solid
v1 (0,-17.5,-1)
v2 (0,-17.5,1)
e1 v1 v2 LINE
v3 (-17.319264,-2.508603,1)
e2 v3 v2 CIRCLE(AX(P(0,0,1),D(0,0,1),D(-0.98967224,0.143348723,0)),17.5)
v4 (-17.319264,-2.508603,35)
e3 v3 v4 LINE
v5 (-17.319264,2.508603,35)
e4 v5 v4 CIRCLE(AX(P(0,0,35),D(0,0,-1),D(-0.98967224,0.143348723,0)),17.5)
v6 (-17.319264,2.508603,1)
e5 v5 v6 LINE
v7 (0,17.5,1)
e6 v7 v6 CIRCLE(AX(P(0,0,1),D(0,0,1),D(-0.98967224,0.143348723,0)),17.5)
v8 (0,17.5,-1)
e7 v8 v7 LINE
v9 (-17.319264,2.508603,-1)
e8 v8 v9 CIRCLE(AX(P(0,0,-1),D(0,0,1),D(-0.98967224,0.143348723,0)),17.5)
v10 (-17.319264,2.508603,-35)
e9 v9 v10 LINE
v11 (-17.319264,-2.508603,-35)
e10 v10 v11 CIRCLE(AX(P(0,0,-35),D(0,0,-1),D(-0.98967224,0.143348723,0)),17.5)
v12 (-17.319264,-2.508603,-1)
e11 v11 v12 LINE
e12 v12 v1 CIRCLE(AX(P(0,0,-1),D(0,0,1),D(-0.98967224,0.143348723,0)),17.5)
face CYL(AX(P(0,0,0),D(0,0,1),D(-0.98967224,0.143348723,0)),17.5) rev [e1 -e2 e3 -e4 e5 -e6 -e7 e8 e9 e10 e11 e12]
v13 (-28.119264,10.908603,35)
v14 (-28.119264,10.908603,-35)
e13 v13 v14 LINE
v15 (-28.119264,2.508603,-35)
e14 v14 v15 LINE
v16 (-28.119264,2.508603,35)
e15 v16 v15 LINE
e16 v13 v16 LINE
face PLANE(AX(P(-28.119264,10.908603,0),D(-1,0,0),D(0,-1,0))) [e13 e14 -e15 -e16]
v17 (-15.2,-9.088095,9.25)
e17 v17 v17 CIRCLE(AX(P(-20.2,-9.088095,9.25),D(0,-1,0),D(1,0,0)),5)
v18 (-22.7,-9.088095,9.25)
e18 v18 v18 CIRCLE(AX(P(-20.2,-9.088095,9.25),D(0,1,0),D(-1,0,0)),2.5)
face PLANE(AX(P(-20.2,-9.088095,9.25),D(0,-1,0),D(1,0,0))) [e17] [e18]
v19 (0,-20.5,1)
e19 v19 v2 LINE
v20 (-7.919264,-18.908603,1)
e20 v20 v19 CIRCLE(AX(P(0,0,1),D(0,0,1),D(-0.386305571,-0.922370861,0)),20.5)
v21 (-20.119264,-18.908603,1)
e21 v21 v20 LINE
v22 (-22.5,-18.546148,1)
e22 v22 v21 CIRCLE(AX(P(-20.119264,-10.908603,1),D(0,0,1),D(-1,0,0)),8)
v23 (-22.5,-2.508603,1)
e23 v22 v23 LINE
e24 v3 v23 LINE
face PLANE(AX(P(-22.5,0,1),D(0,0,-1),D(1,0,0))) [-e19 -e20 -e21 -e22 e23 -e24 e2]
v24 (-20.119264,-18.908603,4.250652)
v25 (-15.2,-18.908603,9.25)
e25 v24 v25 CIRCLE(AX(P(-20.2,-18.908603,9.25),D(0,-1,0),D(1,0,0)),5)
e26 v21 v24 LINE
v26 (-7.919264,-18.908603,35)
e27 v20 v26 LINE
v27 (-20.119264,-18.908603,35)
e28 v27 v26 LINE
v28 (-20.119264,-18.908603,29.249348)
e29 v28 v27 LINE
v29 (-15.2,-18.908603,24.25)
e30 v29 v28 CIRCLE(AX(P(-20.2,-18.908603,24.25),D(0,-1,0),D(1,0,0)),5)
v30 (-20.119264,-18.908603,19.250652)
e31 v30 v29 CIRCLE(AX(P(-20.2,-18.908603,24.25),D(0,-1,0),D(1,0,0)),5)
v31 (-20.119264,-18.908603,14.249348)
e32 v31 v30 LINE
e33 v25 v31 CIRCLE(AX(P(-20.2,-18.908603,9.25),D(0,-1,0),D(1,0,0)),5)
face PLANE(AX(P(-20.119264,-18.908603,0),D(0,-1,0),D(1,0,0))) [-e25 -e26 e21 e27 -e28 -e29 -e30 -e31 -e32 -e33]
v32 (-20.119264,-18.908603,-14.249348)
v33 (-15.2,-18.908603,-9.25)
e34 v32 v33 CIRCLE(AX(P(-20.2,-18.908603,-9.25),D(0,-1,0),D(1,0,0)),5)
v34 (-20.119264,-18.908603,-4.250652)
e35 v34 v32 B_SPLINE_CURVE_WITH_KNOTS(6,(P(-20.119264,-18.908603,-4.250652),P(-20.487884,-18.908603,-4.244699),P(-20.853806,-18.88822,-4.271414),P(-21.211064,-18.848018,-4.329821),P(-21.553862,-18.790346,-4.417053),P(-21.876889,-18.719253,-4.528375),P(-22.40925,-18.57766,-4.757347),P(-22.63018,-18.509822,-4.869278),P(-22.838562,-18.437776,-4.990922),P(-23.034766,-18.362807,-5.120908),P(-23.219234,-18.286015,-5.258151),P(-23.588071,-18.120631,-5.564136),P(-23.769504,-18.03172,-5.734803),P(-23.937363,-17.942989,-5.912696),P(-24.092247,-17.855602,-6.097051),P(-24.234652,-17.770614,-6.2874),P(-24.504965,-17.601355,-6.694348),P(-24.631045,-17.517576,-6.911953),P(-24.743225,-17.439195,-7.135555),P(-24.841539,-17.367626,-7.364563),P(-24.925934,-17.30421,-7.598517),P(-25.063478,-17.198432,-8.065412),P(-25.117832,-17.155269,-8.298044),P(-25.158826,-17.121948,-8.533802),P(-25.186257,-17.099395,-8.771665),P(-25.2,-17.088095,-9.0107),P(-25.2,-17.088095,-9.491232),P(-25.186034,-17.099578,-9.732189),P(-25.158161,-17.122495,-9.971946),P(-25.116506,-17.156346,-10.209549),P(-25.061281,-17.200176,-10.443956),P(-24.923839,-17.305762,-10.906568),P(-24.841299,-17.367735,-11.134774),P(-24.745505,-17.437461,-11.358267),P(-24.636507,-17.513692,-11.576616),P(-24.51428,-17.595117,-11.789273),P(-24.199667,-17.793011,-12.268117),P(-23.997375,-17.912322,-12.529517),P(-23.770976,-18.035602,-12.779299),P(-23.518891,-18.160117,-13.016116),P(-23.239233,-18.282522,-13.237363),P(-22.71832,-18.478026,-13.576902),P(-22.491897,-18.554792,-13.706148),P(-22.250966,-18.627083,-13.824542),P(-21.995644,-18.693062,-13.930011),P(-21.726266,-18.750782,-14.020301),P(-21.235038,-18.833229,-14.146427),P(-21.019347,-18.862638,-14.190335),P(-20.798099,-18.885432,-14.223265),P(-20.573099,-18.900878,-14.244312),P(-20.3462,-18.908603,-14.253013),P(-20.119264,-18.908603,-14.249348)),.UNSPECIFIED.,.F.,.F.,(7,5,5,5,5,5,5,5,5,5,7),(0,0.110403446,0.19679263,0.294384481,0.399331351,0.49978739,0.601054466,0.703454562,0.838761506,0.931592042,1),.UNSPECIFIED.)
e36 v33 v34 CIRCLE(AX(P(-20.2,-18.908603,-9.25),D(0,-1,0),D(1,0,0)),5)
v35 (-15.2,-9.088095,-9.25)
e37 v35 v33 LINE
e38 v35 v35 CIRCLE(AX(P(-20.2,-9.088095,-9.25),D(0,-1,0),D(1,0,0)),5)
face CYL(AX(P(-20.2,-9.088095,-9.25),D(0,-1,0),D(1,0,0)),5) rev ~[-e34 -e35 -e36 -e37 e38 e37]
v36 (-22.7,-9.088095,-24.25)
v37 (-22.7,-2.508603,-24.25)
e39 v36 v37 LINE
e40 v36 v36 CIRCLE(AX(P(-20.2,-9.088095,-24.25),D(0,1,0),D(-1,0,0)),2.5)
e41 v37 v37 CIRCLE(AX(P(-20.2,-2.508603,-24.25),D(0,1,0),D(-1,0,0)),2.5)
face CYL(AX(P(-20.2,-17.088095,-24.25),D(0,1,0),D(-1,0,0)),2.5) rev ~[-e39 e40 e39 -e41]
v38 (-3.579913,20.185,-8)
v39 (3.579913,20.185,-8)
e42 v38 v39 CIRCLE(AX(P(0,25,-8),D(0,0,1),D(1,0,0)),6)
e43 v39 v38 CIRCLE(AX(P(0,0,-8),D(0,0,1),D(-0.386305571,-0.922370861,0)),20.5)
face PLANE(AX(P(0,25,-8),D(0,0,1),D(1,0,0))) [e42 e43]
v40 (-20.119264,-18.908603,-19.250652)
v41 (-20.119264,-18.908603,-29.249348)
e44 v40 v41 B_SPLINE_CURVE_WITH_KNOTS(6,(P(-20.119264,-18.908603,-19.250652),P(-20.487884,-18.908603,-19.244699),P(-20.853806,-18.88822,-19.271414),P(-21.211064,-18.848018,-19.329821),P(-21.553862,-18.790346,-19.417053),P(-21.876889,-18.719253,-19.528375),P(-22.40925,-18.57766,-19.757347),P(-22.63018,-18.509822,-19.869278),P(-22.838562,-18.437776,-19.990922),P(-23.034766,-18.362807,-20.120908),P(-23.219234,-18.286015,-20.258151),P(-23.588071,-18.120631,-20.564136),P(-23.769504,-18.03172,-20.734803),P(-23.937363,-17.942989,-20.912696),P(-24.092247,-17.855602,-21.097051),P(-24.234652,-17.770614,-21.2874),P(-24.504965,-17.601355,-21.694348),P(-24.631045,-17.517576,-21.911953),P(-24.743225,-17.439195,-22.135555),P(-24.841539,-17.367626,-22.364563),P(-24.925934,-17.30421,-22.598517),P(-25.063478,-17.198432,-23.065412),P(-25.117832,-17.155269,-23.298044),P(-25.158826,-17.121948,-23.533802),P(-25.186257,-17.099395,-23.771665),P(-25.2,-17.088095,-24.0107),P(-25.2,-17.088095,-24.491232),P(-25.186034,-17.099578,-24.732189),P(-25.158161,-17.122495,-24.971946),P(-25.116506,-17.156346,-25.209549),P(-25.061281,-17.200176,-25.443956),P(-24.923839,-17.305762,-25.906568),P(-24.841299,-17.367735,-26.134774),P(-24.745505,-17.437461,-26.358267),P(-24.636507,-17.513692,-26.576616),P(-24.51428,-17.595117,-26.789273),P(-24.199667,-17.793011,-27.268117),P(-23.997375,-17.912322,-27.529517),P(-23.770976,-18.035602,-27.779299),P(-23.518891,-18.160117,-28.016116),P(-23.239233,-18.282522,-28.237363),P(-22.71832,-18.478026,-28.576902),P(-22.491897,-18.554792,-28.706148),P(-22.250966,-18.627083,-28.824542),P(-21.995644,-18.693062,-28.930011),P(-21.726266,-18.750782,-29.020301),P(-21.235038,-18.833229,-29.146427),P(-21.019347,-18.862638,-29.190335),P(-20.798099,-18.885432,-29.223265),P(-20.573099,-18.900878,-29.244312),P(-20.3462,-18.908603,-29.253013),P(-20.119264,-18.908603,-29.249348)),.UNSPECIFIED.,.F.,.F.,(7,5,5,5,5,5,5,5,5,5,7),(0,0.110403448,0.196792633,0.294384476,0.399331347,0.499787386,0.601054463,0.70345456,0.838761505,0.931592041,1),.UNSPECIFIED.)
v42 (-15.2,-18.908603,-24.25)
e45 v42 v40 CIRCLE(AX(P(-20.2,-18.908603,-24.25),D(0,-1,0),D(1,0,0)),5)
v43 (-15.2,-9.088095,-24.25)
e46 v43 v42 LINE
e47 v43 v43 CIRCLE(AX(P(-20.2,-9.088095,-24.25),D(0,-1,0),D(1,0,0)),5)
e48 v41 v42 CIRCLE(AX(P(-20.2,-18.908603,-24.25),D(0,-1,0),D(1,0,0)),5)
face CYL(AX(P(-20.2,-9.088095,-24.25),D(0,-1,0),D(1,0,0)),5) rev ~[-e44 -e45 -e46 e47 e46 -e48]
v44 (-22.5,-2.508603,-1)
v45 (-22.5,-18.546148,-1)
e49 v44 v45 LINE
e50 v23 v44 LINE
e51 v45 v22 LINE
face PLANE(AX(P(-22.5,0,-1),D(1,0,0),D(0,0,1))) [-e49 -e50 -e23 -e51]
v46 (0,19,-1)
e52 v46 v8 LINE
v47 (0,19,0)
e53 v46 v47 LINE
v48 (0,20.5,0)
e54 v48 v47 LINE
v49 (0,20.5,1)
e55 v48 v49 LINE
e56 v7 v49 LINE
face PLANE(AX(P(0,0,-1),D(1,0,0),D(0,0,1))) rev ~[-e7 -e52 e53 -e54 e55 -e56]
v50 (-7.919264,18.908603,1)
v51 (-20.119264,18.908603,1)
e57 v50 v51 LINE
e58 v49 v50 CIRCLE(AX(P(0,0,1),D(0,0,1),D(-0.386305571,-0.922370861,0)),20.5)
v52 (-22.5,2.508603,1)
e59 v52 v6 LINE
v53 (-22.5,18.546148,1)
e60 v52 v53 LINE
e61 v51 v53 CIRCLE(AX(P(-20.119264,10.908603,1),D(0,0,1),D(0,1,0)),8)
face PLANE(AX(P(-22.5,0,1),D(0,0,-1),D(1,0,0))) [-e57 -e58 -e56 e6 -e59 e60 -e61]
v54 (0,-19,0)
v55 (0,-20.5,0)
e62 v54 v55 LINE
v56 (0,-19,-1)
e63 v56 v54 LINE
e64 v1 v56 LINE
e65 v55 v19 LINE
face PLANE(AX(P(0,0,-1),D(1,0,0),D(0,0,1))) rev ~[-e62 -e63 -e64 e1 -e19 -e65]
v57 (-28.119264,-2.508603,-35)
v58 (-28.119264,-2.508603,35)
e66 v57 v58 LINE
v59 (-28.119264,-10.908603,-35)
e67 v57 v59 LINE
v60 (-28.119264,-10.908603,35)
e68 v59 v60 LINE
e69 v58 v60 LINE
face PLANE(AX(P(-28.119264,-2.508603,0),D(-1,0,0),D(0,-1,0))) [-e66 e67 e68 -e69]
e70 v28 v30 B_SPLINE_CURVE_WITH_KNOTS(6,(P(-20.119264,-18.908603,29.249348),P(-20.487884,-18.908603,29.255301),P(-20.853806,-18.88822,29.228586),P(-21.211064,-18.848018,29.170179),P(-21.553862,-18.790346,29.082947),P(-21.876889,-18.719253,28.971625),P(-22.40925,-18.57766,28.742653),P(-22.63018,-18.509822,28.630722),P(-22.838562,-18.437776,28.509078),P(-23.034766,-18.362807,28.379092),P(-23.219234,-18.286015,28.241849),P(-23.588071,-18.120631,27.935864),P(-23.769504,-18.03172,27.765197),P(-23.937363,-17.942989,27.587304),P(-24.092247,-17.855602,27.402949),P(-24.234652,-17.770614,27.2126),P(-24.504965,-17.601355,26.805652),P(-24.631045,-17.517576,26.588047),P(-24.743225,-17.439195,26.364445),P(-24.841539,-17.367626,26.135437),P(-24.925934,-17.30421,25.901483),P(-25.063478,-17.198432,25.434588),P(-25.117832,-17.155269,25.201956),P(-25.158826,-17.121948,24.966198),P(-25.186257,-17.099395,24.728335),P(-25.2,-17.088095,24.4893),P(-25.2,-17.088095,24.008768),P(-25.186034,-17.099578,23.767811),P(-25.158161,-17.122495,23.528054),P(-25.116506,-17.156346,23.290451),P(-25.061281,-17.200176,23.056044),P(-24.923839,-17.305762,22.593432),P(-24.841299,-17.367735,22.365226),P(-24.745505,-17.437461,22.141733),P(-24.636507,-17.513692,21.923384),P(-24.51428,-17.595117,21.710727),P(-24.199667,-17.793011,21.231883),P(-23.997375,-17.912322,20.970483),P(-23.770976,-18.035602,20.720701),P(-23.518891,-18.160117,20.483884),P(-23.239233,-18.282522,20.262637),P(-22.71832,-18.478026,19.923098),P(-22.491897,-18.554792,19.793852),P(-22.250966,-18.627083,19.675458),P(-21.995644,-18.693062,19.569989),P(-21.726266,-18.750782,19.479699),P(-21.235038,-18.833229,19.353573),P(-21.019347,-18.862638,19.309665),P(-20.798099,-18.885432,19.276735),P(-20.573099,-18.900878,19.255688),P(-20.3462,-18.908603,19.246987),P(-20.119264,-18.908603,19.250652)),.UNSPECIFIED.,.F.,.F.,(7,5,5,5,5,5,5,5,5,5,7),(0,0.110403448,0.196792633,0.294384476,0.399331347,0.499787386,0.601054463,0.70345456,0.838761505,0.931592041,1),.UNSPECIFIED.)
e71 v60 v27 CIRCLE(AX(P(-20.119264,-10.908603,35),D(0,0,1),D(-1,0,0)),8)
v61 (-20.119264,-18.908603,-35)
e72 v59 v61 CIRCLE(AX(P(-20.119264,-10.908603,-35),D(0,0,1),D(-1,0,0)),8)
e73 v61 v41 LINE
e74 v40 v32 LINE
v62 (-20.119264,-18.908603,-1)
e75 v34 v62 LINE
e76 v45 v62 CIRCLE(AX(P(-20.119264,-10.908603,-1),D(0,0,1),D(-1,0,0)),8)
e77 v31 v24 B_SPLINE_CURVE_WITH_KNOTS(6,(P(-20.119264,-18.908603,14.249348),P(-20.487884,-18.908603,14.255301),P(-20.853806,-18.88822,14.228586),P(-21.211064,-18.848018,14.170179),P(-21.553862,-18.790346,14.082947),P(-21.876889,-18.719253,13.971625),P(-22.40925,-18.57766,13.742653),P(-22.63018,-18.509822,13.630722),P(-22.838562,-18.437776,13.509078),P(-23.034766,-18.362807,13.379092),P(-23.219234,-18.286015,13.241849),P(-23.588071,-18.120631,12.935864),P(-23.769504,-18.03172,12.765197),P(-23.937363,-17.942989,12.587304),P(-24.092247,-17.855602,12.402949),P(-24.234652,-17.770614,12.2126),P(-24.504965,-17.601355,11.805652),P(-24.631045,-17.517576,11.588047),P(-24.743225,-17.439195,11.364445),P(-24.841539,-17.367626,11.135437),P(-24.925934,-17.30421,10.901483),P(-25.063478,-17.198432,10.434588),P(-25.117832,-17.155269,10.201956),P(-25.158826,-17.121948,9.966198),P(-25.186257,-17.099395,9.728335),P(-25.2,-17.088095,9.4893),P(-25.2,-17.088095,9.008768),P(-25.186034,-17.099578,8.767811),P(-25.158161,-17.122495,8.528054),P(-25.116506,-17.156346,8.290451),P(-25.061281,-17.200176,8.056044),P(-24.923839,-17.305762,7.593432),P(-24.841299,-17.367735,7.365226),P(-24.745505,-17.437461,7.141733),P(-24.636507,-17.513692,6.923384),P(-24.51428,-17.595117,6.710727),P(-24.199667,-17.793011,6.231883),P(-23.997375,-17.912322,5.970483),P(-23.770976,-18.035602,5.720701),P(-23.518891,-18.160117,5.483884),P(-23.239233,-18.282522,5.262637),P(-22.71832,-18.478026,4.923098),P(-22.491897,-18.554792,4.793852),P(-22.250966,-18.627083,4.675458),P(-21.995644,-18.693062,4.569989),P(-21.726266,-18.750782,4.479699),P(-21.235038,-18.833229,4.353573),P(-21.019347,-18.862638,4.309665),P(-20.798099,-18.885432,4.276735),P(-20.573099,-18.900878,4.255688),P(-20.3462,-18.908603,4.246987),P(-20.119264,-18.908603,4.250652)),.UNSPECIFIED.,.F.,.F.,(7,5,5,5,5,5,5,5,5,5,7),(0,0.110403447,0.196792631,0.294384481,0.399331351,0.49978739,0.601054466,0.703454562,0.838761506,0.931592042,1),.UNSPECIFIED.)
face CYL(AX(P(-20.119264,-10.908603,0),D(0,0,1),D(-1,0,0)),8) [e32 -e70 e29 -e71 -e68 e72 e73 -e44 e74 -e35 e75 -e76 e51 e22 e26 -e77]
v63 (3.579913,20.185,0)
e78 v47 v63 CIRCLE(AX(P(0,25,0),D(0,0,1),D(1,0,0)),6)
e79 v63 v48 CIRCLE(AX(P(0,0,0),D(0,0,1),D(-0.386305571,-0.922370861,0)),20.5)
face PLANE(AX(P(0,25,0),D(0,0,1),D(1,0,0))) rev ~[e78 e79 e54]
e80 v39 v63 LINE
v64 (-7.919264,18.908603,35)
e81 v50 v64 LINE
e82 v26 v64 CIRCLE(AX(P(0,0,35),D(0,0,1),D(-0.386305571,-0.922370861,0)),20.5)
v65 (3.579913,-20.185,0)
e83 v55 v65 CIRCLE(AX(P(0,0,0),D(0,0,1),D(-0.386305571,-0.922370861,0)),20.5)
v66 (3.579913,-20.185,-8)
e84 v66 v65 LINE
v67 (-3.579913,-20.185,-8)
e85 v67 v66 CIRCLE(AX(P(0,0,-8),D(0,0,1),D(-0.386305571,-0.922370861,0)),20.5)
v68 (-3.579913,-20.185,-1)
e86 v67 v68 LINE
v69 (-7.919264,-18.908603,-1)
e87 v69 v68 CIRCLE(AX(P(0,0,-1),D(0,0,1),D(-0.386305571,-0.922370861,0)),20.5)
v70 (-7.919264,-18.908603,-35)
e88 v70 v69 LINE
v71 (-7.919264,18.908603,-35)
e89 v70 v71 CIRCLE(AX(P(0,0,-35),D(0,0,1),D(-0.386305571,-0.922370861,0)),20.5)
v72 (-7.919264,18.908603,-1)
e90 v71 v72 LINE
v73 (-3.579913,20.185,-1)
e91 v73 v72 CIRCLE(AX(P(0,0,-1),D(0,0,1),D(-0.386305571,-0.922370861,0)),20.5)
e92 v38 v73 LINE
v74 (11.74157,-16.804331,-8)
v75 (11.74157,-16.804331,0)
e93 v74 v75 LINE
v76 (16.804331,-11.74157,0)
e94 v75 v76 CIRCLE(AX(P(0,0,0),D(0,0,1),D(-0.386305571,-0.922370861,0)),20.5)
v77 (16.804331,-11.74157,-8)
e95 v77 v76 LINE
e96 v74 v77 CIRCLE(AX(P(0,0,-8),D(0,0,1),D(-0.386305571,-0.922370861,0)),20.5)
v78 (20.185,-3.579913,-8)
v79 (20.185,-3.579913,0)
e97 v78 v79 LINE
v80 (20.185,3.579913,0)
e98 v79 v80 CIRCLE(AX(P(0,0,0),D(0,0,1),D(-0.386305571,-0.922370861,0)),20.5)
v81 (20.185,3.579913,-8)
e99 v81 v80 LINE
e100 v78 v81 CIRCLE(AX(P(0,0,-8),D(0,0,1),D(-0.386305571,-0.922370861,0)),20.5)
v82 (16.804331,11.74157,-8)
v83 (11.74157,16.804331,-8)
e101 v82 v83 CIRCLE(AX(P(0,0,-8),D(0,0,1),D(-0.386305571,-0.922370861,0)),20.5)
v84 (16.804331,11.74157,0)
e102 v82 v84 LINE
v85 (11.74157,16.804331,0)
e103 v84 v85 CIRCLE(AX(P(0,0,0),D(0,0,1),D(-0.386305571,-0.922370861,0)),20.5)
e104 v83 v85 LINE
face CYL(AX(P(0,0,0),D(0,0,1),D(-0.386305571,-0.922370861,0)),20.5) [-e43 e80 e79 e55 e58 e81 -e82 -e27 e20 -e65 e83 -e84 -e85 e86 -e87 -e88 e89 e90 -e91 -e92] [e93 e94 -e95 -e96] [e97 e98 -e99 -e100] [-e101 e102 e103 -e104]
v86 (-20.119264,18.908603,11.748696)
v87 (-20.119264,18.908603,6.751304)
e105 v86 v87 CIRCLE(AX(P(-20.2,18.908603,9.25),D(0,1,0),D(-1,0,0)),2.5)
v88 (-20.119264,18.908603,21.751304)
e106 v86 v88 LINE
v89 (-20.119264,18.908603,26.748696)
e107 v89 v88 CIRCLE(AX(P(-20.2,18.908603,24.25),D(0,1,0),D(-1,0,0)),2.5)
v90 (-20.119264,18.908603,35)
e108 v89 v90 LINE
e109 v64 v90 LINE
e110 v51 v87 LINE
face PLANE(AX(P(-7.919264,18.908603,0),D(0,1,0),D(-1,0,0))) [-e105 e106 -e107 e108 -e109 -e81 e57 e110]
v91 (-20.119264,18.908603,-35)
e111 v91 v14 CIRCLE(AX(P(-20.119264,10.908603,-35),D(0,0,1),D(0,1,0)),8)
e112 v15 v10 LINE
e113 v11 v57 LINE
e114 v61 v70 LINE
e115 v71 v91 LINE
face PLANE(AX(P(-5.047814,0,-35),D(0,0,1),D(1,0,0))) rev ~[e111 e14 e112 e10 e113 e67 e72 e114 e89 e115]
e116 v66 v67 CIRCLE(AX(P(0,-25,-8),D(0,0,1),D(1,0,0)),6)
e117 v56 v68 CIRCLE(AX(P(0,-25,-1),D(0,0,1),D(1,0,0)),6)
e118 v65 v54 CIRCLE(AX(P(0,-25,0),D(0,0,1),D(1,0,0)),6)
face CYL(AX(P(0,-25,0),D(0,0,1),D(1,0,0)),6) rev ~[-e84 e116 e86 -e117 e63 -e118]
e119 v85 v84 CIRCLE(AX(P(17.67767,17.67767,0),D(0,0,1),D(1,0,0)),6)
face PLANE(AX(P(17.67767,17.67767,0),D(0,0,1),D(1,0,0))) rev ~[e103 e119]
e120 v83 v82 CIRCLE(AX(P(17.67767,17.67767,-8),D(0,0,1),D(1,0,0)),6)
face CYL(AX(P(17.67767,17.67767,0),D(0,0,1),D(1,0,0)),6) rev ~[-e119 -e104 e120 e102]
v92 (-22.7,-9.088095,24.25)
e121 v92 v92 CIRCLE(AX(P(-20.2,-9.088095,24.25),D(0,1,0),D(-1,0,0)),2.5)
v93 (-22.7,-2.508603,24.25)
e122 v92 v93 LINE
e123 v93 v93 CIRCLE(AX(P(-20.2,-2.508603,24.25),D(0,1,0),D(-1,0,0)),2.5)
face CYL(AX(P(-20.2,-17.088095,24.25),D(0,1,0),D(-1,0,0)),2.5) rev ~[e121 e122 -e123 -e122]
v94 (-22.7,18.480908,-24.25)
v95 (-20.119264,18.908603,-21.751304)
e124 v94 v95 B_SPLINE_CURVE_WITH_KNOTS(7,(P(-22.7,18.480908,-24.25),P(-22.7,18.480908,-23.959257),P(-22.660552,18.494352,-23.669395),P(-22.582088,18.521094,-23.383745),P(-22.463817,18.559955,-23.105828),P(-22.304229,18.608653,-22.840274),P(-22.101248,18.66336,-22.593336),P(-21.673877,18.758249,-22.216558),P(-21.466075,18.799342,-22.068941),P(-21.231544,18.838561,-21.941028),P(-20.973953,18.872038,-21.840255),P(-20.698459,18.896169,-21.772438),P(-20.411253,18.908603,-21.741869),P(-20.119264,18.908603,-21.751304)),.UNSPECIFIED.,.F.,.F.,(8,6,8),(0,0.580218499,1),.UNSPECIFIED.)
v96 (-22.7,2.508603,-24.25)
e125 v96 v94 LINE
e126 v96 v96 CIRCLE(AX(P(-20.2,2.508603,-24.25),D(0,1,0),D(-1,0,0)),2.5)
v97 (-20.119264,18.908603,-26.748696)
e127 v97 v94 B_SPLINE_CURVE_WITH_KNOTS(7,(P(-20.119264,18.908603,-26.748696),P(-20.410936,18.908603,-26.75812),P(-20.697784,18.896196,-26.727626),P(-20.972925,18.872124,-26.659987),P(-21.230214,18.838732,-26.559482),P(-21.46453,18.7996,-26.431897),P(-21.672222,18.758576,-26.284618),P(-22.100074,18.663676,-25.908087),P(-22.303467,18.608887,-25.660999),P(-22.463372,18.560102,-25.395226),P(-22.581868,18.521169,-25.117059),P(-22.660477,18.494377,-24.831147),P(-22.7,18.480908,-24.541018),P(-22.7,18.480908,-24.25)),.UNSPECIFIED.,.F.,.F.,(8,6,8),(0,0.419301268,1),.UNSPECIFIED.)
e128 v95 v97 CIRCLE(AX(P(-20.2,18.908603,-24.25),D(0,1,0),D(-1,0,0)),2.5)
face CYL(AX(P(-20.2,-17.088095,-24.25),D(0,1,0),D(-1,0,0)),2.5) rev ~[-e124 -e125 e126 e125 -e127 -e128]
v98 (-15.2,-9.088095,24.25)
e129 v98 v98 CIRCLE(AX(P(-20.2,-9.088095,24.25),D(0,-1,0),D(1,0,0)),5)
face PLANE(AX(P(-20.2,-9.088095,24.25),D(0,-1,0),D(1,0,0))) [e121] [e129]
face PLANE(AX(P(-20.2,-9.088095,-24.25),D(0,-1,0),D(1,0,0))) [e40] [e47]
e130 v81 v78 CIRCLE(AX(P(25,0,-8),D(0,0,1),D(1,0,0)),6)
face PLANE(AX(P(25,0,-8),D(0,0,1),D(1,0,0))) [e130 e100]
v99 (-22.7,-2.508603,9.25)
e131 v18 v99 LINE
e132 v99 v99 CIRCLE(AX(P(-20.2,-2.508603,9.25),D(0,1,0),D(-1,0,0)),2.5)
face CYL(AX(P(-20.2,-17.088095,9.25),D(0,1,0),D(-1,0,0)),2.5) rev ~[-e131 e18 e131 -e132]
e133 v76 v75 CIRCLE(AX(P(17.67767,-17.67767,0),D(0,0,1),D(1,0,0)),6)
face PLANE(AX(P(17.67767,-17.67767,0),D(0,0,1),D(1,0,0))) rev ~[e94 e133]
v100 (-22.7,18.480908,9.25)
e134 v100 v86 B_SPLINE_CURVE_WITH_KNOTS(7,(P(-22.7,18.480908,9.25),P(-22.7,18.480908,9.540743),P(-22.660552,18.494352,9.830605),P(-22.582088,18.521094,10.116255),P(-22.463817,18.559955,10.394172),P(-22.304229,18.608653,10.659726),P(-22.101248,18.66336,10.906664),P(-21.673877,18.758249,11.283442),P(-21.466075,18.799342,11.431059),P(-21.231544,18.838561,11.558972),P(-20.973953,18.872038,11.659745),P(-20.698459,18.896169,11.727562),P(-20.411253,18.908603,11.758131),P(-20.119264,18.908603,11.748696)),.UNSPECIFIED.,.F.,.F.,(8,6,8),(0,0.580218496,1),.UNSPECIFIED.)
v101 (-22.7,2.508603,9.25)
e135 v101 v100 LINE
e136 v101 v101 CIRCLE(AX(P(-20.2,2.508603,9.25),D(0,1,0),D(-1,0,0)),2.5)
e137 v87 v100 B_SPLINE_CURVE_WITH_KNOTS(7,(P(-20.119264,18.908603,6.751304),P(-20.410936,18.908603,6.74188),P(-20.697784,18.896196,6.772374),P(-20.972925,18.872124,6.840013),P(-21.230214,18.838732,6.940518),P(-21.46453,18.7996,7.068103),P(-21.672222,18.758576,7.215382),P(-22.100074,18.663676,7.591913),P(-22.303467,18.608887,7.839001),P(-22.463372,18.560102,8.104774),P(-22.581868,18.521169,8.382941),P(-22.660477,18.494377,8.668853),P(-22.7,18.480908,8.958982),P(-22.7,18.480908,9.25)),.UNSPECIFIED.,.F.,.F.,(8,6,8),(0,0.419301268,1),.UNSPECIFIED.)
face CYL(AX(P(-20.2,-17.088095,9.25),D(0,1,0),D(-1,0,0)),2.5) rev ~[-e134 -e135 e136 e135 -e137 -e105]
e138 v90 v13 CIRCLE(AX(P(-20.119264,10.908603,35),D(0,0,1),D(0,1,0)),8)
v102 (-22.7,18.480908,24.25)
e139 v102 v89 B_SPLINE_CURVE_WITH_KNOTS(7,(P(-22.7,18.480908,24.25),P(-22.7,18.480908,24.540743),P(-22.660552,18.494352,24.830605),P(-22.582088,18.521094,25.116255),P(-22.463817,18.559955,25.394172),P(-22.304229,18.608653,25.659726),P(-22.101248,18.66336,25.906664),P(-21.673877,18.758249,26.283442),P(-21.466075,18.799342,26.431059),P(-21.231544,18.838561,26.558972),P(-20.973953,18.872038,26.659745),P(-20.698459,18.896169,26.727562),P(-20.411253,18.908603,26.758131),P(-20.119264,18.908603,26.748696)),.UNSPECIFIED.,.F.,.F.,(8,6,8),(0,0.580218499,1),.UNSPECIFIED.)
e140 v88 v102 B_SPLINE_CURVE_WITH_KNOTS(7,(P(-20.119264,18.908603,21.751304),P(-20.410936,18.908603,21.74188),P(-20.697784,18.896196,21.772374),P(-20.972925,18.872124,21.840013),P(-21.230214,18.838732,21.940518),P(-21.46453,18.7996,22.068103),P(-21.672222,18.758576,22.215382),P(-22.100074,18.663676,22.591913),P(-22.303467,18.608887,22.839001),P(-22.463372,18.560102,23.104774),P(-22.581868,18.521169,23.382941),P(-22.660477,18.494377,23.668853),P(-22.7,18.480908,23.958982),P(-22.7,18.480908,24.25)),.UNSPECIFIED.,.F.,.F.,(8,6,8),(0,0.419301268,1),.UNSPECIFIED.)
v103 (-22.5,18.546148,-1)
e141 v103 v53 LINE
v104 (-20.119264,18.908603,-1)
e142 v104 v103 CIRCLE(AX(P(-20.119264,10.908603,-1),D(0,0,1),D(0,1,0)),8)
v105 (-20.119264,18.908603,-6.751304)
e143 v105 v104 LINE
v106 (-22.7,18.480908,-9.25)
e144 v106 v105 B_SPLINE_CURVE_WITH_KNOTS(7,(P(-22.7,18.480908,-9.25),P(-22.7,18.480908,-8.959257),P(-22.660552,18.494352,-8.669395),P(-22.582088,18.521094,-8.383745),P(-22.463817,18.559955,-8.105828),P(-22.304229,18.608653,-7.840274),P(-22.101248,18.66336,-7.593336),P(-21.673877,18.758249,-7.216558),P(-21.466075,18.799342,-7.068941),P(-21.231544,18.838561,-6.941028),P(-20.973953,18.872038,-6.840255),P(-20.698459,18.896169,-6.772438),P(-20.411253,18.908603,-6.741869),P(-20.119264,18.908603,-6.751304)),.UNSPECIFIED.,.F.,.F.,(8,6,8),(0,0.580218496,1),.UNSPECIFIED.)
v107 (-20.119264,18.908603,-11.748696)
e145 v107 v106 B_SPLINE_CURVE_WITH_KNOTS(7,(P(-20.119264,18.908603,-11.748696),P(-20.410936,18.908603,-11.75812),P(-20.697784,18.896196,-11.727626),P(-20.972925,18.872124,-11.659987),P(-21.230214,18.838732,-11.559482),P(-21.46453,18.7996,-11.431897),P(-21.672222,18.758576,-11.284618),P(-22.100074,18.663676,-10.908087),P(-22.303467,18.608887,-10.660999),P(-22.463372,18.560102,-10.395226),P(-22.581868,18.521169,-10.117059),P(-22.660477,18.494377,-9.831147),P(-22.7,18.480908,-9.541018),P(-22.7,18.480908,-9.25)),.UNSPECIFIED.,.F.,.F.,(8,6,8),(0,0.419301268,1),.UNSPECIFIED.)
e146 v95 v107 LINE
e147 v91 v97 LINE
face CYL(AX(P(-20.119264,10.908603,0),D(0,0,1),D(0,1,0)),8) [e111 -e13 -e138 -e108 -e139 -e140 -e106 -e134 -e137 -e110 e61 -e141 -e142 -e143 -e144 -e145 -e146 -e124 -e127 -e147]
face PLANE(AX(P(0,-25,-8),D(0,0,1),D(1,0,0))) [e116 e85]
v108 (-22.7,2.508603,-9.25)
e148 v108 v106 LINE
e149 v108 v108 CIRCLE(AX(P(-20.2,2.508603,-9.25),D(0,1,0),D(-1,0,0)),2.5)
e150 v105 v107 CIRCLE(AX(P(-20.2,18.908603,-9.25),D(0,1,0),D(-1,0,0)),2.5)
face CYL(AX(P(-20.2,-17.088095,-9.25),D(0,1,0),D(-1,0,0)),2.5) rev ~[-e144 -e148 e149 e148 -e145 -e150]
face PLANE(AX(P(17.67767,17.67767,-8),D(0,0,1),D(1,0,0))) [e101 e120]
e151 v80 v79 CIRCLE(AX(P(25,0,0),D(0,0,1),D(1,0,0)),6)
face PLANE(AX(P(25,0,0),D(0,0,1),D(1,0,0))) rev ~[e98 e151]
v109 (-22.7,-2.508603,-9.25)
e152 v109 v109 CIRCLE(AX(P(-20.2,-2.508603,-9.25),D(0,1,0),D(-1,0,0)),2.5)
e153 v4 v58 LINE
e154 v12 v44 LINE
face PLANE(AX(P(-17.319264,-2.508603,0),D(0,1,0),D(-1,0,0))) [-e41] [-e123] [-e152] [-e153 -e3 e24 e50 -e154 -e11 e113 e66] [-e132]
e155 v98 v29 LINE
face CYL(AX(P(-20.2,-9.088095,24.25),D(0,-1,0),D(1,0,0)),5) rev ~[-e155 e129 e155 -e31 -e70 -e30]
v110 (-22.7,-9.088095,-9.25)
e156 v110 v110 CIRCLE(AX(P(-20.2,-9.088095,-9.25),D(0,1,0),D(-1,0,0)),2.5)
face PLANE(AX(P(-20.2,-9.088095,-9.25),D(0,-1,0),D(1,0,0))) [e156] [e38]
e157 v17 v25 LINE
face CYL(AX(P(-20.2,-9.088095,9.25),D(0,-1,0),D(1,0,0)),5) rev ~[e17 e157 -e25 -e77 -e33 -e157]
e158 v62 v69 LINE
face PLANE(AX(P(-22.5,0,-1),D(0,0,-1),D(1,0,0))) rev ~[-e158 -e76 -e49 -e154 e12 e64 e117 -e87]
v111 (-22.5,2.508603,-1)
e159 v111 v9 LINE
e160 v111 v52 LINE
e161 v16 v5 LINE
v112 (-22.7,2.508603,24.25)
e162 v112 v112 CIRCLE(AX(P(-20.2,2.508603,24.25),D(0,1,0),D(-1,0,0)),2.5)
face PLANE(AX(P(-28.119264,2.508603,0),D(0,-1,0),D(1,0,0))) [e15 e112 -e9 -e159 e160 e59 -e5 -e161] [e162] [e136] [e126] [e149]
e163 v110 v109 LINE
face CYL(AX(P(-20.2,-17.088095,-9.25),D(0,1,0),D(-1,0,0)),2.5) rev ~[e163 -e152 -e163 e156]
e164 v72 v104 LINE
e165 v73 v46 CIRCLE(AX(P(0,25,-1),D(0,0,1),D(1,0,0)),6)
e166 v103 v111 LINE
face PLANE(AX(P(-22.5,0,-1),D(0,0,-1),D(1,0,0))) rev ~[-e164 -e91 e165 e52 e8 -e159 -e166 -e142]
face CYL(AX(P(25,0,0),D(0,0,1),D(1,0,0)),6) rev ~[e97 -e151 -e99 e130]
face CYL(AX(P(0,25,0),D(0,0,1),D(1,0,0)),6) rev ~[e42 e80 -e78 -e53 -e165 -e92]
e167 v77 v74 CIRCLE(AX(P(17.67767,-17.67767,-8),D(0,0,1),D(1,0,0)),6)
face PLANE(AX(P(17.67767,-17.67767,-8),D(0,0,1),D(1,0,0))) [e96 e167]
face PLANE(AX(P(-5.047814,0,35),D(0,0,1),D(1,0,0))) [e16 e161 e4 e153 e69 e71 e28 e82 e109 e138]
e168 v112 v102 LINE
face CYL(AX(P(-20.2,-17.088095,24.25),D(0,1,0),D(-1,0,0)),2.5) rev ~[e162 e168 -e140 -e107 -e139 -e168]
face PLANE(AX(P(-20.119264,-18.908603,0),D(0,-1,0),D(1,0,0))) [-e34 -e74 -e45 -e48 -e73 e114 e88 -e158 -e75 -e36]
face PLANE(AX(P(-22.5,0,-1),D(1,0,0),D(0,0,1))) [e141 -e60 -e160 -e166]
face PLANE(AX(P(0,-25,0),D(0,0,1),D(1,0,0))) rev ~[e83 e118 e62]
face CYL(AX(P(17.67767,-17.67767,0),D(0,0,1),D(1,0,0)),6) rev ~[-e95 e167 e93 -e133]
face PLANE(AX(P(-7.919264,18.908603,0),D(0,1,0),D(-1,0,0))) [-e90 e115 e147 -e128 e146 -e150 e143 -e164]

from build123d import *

# Parameters (mm, degrees)
F1_DEPTH       = 35
F3_D           = 5
F3_START       = 1.8205079
F3_CBORE_D     = 10
F3_CBORE_DEPTH = 8
F4_W           = 22.5
F4_H           = 2
F5_DEPTH       = 25
F6_R           = 6
F7_DEPTH       = 8


with BuildPart() as f1:
    # F0 (on Top) → F1 (new body, symmetric)
    with BuildSketch(Plane.XY):
        with BuildLine():
            ThreePointArc((-17.3192642082, 2.5086026559), (17.5, 0), (-17.3192642082, -2.5086026559))
            Line((-17.3192642082, -2.5086026559), (-28.1192642082, -2.5086026559))
            Line((-28.1192642082, -2.5086026559), (-28.1192642082, -10.9086026559))
            ThreePointArc((-28.1192642082, -10.9086026559), (-25.7761184577, -16.5654569054), (-20.1192642082, -18.9086026559))
            Line((-20.1192642082, -18.9086026559), (-7.9192642082, -18.9086026559))
            ThreePointArc((-7.9192642082, -18.9086026559), (20.5, 0), (-7.9192642082, 18.9086026559))
            Line((-7.9192642082, 18.9086026559), (-20.1192642082, 18.9086026559))
            ThreePointArc((-20.1192642082, 18.9086026559), (-25.7761184577, 16.5654569054), (-28.1192642082, 10.9086026559))
            Line((-28.1192642082, 10.9086026559), (-28.1192642082, 2.5086026559))
            Line((-28.1192642082, 2.5086026559), (-17.3192642082, 2.5086026559))
        make_face()
    extrude(amount=F1_DEPTH, both=True)

    # F3 (through all)
    # its depths count from where the whole tool has entered the part; down to there all is cleared
    with Locations(Plane.XZ.offset(18.9086026559).offset(-F3_START)):
        with Locations((-20.2, 24.25), (-20.2, 9.25), (-20.2, -9.25), (-20.2, -24.25)):
            CounterBoreHole(F3_D / 2, F3_CBORE_D / 2, F3_CBORE_DEPTH)

    # F4 (on Front) → F5 (cut, symmetric)
    with BuildSketch(Plane.XZ):
        with Locations((-11.25, 0)):
            Rectangle(F4_W, F4_H)
    extrude(amount=F5_DEPTH, both=True, mode=Mode.SUBTRACT)

    # F6 (on Top) → F7 (cut)
    with BuildSketch(Plane.XY):
        with Locations((0, -25)):
            Circle(F6_R)
        with Locations((17.6776695297, -17.6776695297)):
            Circle(F6_R)
        with Locations((25, 0)):
            Circle(F6_R)
        with Locations((17.6776695297, 17.6776695297)):
            Circle(F6_R)
        with Locations((0, 25)):
            Circle(F6_R)
    extrude(amount=-F7_DEPTH, mode=Mode.SUBTRACT)


solid = f1.part
